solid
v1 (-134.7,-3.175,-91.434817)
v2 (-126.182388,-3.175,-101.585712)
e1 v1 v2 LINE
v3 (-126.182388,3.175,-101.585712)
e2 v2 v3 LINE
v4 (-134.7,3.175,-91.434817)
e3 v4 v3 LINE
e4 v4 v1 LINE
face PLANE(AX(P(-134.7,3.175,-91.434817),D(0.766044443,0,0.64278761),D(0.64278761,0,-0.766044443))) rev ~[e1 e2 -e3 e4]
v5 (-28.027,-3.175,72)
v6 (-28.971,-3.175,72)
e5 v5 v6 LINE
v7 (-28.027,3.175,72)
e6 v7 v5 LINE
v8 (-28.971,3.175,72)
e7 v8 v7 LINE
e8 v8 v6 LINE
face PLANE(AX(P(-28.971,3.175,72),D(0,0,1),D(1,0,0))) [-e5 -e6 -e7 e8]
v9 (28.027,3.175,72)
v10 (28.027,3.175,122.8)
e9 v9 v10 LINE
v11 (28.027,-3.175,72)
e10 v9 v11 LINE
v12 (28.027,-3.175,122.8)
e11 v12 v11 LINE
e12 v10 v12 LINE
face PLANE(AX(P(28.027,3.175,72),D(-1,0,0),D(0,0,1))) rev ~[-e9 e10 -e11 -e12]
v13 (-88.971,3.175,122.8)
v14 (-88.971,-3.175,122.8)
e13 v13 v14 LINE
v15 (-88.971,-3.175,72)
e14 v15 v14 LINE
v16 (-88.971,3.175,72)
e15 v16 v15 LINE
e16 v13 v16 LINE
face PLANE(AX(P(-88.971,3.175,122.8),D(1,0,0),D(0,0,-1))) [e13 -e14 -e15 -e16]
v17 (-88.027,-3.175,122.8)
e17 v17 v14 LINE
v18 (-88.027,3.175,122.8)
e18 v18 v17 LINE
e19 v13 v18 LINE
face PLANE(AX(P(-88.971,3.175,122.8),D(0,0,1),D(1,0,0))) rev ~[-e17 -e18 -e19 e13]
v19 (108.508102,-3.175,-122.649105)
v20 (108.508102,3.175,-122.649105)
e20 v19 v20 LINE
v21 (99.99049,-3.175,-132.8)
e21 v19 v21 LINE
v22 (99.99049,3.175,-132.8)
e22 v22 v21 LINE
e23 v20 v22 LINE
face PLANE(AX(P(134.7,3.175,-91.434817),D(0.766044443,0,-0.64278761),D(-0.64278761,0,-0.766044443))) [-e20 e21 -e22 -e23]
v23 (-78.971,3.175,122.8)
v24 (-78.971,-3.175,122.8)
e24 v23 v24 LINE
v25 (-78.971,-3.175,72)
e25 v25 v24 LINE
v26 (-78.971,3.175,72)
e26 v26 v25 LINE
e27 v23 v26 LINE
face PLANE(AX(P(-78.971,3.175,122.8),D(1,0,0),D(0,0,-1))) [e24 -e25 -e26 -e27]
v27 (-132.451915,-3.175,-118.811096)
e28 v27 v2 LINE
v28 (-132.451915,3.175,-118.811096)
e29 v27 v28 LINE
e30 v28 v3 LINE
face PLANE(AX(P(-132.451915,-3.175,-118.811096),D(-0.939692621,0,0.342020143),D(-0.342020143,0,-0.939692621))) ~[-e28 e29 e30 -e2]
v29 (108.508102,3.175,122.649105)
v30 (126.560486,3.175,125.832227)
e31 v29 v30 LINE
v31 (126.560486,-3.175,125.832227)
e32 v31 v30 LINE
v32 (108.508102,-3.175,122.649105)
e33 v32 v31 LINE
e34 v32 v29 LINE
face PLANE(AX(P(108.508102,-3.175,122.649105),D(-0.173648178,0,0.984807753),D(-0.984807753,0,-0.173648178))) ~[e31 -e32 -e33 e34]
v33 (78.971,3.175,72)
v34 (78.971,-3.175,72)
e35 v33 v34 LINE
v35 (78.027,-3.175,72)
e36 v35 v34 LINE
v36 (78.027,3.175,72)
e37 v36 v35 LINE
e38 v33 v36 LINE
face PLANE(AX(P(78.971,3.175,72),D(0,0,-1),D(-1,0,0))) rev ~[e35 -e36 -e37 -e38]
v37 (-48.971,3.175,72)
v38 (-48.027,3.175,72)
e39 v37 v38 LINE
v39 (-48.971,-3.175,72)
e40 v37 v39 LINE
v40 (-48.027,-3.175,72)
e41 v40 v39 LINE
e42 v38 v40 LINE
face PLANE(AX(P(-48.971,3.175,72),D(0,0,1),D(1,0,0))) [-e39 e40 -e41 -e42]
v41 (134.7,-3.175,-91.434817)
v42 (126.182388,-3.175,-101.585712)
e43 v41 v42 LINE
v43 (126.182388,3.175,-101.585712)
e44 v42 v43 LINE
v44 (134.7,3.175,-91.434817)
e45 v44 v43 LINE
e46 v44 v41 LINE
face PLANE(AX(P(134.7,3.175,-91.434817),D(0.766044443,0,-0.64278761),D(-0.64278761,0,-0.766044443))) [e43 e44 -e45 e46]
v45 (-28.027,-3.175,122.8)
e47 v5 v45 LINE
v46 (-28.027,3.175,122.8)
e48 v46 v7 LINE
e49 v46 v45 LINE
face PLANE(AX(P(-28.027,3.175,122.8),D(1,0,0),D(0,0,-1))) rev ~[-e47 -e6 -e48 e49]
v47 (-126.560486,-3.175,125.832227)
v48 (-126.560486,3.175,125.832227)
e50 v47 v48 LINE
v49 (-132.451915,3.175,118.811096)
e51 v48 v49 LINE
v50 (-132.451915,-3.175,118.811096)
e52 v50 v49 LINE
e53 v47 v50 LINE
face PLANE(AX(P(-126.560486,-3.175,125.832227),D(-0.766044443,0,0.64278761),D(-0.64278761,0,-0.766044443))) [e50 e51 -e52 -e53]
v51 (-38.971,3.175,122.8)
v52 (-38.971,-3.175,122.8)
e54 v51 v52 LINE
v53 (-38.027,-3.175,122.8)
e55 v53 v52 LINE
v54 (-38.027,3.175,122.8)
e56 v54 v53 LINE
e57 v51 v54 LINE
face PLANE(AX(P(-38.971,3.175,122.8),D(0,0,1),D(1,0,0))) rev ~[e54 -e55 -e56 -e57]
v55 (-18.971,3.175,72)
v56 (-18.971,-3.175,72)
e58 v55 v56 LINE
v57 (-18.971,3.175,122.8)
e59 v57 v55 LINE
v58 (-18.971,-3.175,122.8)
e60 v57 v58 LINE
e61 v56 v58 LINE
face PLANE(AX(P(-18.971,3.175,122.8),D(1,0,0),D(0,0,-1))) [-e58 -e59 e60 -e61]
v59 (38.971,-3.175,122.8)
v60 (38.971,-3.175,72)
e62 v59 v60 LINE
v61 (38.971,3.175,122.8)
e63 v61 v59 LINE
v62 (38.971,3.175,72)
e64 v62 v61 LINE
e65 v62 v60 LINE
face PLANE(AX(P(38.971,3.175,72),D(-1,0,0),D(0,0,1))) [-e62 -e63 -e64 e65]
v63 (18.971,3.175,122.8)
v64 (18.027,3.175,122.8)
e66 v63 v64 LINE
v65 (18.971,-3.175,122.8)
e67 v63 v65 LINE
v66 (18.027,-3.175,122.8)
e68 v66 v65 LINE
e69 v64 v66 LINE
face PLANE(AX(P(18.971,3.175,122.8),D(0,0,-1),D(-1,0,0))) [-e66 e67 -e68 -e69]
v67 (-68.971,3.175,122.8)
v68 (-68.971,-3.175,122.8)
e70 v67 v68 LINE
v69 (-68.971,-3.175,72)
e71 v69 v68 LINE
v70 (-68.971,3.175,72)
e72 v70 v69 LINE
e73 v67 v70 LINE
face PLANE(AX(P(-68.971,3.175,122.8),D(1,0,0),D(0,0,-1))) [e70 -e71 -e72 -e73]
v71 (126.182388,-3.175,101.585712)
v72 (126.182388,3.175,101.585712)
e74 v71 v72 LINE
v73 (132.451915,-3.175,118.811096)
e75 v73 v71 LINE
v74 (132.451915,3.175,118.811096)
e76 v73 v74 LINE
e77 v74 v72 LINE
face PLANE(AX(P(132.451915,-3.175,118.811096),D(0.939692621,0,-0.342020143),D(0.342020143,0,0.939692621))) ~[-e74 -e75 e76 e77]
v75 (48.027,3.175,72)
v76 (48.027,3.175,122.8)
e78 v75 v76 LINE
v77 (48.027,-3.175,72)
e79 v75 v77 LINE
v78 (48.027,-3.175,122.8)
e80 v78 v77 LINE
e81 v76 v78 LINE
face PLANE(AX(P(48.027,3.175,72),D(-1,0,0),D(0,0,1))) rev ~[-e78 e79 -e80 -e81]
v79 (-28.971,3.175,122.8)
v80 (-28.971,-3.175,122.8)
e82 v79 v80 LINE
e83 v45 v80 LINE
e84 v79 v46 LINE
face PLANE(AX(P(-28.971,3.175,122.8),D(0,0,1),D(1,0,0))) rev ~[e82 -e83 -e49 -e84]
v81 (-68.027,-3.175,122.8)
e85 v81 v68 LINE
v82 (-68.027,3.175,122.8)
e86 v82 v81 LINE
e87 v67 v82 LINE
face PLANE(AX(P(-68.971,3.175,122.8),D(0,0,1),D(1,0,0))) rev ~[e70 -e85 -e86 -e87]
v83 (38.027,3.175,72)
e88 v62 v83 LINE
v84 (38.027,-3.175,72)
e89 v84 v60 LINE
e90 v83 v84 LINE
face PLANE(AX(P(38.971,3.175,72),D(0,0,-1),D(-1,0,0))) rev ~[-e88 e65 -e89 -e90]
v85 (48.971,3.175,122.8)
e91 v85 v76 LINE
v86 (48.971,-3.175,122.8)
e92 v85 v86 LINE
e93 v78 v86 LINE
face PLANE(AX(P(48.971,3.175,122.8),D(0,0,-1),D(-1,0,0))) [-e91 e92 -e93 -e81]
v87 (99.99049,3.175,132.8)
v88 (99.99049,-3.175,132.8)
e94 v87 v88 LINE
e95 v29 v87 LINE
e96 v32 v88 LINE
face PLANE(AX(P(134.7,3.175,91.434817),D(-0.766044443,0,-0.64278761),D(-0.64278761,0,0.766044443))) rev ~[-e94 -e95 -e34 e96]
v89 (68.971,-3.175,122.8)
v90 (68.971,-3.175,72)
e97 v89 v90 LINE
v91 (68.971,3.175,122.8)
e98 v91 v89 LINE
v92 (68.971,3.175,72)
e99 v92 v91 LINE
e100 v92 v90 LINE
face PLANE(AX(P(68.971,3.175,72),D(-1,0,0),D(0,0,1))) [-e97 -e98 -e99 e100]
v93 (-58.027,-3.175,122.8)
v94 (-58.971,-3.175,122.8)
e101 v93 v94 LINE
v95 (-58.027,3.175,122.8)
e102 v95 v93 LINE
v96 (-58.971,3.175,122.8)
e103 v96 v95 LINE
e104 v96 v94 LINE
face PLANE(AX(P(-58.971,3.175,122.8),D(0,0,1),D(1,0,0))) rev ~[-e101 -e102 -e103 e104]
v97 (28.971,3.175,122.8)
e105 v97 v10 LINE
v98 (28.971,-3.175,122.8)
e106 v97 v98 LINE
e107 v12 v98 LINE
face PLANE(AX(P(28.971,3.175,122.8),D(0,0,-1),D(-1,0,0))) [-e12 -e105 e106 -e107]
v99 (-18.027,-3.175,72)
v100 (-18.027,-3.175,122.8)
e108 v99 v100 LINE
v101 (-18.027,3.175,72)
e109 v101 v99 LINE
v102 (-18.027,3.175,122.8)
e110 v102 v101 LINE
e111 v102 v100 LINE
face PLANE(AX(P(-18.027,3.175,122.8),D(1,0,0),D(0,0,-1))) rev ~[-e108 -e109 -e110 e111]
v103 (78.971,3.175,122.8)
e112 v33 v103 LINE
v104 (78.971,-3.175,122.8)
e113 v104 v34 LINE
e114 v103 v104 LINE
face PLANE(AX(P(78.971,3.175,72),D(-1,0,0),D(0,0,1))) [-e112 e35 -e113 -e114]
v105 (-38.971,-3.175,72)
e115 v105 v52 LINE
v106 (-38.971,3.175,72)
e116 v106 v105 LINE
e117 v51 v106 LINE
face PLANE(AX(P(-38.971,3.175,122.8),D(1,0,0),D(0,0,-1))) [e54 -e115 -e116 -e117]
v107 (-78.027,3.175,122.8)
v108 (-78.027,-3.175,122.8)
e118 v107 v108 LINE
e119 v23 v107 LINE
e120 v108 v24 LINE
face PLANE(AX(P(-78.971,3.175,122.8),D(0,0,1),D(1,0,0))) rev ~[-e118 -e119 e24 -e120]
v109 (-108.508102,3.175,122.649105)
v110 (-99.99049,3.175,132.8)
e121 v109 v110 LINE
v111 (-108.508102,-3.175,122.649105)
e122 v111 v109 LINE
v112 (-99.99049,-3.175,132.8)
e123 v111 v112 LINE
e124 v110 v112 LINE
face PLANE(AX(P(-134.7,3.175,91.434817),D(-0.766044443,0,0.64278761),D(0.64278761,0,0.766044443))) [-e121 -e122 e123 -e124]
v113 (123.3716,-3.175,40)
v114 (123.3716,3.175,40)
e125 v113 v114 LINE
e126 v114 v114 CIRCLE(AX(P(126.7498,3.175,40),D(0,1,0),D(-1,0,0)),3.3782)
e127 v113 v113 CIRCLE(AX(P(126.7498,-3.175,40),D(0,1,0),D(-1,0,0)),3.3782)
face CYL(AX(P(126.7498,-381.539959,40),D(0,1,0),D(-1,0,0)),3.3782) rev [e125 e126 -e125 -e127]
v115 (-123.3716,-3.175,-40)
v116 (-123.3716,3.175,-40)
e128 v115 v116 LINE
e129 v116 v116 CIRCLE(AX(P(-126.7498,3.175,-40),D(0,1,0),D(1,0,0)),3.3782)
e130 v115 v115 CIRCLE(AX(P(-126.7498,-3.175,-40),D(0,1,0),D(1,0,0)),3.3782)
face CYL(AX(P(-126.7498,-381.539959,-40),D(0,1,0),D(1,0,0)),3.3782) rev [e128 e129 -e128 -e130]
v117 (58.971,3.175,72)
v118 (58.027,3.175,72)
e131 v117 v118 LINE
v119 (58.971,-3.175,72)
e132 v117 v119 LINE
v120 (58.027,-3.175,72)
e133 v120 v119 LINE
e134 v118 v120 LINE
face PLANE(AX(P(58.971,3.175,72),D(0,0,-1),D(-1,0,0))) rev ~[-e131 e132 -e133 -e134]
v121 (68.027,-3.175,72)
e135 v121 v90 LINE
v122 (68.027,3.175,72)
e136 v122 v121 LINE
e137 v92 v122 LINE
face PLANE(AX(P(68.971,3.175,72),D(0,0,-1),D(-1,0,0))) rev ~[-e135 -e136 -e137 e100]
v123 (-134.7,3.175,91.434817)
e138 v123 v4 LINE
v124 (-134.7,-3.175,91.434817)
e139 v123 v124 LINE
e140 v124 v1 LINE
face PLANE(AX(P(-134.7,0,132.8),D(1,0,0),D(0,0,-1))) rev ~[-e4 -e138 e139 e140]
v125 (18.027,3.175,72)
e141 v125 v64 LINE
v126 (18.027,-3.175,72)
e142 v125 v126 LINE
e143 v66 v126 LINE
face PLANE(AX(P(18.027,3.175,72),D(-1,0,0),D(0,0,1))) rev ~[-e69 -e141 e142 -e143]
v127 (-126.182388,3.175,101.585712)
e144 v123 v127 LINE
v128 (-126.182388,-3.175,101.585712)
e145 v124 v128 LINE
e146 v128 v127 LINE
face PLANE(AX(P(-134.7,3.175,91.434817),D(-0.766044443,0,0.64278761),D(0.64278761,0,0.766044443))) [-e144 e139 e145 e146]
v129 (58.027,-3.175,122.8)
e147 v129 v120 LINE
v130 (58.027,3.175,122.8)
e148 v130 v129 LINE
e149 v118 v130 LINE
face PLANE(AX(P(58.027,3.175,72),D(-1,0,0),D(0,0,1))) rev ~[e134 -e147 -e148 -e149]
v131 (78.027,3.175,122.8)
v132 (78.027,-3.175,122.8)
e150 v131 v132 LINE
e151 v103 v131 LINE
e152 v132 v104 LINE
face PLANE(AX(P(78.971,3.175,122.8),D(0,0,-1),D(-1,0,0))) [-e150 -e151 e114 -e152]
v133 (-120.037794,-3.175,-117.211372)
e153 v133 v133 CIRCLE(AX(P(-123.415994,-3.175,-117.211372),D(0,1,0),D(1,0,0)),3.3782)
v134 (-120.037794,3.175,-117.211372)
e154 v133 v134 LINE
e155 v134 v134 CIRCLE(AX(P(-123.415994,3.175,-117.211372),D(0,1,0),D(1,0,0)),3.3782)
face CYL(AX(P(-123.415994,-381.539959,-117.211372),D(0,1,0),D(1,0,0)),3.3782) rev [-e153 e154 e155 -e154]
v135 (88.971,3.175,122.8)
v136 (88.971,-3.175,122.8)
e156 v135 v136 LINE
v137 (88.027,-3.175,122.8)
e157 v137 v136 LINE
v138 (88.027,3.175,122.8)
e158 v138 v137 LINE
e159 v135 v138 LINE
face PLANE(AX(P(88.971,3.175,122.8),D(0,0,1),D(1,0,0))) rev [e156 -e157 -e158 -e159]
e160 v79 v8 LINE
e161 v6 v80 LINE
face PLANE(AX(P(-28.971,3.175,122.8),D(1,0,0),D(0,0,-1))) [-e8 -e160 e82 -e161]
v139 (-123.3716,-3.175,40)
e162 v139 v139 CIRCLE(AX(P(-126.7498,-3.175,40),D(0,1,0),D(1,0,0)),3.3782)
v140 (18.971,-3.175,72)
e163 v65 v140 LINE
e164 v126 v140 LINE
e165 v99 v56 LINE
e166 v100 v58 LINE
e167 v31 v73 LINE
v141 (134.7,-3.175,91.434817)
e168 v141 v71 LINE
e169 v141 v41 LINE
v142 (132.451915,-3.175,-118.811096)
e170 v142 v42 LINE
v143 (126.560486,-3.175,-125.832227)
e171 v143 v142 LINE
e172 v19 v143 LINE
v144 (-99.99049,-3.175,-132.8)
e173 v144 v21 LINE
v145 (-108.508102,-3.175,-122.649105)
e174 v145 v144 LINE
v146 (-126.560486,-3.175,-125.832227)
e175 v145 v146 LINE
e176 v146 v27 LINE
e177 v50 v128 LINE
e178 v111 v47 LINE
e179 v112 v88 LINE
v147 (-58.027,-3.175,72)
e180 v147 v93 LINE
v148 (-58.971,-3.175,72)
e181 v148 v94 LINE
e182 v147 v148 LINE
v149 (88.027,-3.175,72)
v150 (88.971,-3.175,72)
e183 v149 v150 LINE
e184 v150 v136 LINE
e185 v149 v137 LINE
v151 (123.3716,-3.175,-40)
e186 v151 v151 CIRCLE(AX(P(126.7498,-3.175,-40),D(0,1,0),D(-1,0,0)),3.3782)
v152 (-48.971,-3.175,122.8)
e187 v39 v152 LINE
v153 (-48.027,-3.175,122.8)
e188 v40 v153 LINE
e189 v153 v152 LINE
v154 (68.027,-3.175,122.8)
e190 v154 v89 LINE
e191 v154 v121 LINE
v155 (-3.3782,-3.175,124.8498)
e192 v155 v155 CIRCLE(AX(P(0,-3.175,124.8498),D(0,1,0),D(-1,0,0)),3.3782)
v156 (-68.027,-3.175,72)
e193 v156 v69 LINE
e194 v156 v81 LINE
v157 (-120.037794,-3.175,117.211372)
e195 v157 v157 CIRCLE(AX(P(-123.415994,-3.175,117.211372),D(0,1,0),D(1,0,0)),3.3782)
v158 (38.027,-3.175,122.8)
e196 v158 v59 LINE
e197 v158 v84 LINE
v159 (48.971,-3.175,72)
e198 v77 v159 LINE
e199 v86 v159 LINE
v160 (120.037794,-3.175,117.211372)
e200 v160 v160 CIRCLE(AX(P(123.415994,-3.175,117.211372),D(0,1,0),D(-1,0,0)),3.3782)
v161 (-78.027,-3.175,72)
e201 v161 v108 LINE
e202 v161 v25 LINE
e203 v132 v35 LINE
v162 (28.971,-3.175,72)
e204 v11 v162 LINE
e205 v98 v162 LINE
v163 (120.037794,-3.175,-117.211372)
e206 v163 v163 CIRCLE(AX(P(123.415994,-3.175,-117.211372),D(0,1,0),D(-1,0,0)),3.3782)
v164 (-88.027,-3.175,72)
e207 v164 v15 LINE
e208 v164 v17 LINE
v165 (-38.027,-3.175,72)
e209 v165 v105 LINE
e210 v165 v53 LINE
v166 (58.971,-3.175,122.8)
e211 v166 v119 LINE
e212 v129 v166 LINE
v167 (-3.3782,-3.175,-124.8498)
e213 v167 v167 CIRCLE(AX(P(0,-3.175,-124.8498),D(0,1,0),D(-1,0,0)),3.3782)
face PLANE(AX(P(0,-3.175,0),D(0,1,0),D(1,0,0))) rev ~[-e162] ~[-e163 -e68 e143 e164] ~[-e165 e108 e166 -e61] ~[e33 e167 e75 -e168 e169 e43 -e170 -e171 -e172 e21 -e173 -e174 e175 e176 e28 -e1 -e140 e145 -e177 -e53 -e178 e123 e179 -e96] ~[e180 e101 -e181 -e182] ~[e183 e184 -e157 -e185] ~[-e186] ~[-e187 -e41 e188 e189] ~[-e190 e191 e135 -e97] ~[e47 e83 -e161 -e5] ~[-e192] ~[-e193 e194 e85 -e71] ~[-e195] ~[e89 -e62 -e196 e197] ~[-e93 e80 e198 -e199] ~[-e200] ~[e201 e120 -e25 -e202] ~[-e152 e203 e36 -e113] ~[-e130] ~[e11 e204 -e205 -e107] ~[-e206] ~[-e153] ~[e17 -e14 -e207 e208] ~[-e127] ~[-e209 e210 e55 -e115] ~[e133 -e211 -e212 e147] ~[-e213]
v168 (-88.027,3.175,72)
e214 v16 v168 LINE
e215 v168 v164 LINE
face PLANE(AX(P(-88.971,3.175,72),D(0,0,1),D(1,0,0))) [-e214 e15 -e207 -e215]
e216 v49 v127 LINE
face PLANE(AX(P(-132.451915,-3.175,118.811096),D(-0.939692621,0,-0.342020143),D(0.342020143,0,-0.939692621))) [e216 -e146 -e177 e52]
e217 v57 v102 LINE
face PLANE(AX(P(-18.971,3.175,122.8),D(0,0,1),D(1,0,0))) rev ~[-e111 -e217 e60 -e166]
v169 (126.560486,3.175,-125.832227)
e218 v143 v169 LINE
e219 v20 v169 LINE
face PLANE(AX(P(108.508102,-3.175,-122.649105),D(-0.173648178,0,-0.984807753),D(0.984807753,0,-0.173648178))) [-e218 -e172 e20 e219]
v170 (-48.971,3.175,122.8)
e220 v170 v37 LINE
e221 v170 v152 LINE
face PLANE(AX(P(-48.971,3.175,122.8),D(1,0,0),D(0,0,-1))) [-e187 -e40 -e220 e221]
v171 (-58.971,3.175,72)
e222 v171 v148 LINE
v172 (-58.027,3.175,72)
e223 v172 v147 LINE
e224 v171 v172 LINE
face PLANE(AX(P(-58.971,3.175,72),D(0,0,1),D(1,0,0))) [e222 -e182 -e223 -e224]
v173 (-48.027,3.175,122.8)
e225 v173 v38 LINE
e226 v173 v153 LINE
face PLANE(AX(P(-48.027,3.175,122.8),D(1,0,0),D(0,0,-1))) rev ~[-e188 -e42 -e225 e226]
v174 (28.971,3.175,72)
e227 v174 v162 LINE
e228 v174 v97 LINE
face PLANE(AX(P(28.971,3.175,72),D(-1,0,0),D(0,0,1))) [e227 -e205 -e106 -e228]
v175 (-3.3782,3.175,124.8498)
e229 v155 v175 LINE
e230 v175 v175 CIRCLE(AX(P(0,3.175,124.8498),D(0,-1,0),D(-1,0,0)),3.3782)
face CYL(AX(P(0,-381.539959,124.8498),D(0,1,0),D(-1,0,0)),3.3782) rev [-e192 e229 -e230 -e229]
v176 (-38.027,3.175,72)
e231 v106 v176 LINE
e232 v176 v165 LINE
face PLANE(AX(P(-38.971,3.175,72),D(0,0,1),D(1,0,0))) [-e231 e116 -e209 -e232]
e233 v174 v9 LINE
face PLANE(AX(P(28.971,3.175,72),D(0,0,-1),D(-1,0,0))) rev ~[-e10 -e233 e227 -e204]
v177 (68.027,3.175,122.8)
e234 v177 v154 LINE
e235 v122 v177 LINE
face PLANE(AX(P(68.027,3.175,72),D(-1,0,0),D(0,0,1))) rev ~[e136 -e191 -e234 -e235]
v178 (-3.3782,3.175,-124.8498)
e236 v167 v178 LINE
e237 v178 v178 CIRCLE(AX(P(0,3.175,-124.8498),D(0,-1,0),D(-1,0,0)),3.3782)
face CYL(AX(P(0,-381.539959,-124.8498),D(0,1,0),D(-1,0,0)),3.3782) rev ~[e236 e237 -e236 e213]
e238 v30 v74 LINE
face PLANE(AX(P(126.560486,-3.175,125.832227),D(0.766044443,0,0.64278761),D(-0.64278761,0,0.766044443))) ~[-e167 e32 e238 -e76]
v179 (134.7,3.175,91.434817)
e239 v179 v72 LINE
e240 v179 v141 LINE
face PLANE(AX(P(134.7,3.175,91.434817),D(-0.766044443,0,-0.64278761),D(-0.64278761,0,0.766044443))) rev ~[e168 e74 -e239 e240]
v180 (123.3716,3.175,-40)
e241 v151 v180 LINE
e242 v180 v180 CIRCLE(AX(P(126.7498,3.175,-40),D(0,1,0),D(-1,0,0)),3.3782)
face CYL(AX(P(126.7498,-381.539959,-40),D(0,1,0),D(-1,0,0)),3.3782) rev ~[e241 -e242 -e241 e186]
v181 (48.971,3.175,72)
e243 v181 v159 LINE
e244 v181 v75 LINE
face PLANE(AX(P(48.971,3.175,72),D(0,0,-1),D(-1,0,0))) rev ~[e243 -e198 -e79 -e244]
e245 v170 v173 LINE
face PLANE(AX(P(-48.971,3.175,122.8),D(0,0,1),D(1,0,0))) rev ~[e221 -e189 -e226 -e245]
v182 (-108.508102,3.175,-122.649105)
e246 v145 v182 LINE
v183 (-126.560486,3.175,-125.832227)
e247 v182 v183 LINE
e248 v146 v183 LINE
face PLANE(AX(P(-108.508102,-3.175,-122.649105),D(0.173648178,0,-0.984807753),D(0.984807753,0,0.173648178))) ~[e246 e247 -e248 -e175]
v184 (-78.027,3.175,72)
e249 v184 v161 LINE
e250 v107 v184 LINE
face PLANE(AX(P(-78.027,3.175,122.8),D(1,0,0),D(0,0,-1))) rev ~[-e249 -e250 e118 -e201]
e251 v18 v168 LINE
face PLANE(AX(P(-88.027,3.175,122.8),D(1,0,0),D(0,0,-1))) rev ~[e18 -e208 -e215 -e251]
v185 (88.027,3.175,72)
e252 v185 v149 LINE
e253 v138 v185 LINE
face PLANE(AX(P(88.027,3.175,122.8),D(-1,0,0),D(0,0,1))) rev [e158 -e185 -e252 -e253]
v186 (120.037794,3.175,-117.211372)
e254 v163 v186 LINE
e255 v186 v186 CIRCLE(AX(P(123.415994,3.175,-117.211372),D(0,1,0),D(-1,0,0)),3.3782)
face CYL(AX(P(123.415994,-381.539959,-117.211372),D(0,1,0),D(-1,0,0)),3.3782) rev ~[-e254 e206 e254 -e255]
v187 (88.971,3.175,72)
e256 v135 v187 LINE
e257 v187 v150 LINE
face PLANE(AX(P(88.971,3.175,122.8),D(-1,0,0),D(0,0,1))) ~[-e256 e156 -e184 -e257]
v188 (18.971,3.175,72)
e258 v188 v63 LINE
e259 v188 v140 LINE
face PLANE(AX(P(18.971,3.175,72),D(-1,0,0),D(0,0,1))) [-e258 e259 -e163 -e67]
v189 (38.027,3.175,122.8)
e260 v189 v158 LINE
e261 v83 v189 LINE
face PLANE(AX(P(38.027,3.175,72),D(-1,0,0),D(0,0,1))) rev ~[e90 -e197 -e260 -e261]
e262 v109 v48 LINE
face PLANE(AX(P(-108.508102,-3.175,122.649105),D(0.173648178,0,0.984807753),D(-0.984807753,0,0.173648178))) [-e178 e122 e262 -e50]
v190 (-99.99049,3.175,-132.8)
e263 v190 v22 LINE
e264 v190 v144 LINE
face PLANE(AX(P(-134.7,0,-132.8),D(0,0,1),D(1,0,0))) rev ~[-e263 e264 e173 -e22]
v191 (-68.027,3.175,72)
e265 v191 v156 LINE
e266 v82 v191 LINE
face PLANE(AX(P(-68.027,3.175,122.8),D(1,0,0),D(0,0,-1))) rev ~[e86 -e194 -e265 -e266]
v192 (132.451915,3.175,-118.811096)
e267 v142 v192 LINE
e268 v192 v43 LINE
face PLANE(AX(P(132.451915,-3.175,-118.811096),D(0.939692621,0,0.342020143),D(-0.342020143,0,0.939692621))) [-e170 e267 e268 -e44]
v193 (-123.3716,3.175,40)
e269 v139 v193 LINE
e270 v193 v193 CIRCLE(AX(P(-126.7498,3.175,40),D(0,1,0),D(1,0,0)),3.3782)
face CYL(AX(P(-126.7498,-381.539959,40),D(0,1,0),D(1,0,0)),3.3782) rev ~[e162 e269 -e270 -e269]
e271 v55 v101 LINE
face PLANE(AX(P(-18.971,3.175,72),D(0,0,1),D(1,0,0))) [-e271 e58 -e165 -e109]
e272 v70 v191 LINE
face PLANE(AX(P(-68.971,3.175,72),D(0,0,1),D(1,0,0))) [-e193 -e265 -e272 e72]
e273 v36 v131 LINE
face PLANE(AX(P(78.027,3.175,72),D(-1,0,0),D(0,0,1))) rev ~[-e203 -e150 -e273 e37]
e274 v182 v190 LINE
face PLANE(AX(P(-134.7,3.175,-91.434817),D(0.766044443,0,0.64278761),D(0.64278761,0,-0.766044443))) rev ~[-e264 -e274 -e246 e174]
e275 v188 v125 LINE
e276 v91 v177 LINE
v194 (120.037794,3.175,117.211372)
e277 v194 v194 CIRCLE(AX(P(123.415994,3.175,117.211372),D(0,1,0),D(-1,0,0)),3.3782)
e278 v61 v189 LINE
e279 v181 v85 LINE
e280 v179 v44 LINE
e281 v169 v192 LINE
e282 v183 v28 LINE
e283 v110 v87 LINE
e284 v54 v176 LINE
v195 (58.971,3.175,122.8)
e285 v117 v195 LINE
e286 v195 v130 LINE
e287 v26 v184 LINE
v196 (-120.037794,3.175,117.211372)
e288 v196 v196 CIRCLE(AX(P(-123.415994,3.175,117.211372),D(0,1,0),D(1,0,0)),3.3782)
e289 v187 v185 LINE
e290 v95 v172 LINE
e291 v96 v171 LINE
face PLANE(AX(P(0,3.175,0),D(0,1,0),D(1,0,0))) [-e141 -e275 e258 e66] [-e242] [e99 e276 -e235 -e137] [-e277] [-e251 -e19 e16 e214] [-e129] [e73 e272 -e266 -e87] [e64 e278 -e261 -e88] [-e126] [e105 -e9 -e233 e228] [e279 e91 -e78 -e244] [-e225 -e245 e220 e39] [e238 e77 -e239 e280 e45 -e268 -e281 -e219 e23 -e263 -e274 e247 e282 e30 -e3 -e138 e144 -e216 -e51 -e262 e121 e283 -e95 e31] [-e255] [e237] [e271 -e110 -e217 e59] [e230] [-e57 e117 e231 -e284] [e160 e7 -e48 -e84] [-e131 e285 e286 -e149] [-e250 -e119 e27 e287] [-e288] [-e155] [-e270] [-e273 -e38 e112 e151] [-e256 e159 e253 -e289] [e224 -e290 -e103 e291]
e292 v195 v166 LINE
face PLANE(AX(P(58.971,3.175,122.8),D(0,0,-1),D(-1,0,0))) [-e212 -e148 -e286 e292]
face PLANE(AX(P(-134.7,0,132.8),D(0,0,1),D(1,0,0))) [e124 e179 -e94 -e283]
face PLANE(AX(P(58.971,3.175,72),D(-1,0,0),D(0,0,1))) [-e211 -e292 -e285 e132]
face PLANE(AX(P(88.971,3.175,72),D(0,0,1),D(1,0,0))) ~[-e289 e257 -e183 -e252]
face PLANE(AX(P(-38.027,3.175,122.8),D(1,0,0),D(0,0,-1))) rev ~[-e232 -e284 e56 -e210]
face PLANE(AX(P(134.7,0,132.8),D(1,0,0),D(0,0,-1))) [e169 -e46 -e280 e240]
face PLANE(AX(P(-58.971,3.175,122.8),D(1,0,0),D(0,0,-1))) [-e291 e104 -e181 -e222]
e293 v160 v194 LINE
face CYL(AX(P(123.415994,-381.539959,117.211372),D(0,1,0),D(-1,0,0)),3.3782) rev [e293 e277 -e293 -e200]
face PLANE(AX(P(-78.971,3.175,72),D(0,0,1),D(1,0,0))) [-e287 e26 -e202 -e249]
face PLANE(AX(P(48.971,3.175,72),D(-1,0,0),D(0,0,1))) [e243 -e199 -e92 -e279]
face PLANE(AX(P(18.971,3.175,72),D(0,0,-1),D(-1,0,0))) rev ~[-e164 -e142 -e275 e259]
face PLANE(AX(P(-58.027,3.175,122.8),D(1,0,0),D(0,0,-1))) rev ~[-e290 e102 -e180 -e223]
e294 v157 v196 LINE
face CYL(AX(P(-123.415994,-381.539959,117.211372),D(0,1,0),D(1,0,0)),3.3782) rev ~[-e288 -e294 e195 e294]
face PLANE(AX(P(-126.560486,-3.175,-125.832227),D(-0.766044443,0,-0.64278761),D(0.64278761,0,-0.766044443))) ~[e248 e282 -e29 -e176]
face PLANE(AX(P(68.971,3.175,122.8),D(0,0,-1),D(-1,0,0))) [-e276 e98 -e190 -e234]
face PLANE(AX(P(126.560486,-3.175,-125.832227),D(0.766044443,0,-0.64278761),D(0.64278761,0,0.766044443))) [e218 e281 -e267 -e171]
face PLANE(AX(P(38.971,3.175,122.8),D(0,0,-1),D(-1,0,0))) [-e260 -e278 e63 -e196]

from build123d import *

# Parameters (mm, degrees)
SKETCH1_W               = 269.4
SKETCH1_H               = 265.6
BOSS_EXTRUDE1_DEPTH     = 3.175
CUT_EXTRUDE3_DEPTH      = 190.262390612
BOSS_EXTRUDE3_DEPTH     = 6.35
F_1_4_CLEARANCE_HOLE1_D = 6.7564
MIRROR2_COPY_1_DEPTH    = 6.35
MIRROR2_COPY_2_D        = 6.7564
CUT_EXTRUDE2_REACH      = 191.262
SKETCH15_W              = 0.944
SKETCH15_H              = 50.8
LPATTERN1_COUNT         = 8
LPATTERN1_PITCH         = 10
MIRROR3_COPY_1_REACH    = 191.262
MIRROR3_COPY_1_SKETCH_W = 0.944
MIRROR3_COPY_1_SKETCH_H = 50.8
MIRROR3_COPY_2_REACH    = 191.262
MIRROR3_COPY_2_SKETCH_W = 0.944
MIRROR3_COPY_2_SKETCH_H = 50.8
MIRROR3_COPY_3_REACH    = 191.262
MIRROR3_COPY_3_SKETCH_W = 0.944
MIRROR3_COPY_3_SKETCH_H = 50.8
MIRROR3_COPY_4_REACH    = 191.262
MIRROR3_COPY_4_SKETCH_W = 0.944
MIRROR3_COPY_4_SKETCH_H = 50.8
MIRROR3_COPY_5_REACH    = 191.262
MIRROR3_COPY_5_SKETCH_W = 0.944
MIRROR3_COPY_5_SKETCH_H = 50.8
MIRROR3_COPY_6_REACH    = 191.262
MIRROR3_COPY_6_SKETCH_W = 0.944
MIRROR3_COPY_6_SKETCH_H = 50.8
MIRROR3_COPY_7_REACH    = 191.262
MIRROR3_COPY_7_SKETCH_W = 0.944
MIRROR3_COPY_7_SKETCH_H = 50.8


with BuildPart() as part:
    # Sketch1 → Boss-Extrude1 (new, symmetric)
    with BuildSketch(Plane(origin=(0, 0, 0), x_dir=(1, 0, 0), z_dir=(0, 1, 0))):
        Rectangle(SKETCH1_W, SKETCH1_H)
    extrude(amount=BOSS_EXTRUDE1_DEPTH, both=True)

    # Sketch16 → Cut-Extrude3 (cut, through all)
    with BuildSketch(Plane(origin=(0, 3.175, 0), x_dir=(1, 0, 0), z_dir=(0, 1, 0))):
        Polygon((-134.7, 132.8), (-134.7, 91.434816919), (-99.990490133, 132.8), align=None)
        Polygon((99.990490133, 132.8), (134.7, 132.8), (134.7, 91.434816919), align=None)
        Polygon((134.7, -132.8), (134.7, -91.434816919), (99.990490133, -132.8), align=None)
        Polygon((-99.990490133, -132.8), (-134.7, -132.8), (-134.7, -91.434816919), align=None)
    extrude(amount=-CUT_EXTRUDE3_DEPTH, mode=Mode.SUBTRACT)

    # Sketch7 → Boss-Extrude3 (add)
    with BuildSketch(Plane(origin=(0, -3.175, 0), x_dir=(1, 0, 0), z_dir=(0, 1, 0))):
        Polygon((126.560486405, 125.832227239), (132.451914797, 118.811096288), (126.182387654, 101.585712032), (108.508102479, 122.649104887), align=None)
    boss_extrude3 = extrude(amount=BOSS_EXTRUDE3_DEPTH)

    # 1/4 Clearance Hole1 (through all)
    with Locations(Plane.XZ.offset(3.175)):
        with Locations((123.415994069, -117.211371709), (126.7498, -40), (0, -124.8498)):
            f_1_4_clearance_hole1 = Hole(F_1_4_CLEARANCE_HOLE1_D / 2)

    # Mirror1: Boss-Extrude3, 1/4 Clearance Hole1 across plane
    add(boss_extrude3.mirror(Plane.XY))
    add(f_1_4_clearance_hole1.mirror(Plane.XY), mode=Mode.SUBTRACT)

    # Mirror2: Boss-Extrude3, 1/4 Clearance Hole1 across plane
    add(boss_extrude3.mirror(Plane(origin=(0, 0, 0), x_dir=(0, 0, 1), z_dir=(1, 0, 0))))
    add(f_1_4_clearance_hole1.mirror(Plane(origin=(0, 0, 0), x_dir=(0, 0, 1), z_dir=(1, 0, 0))), mode=Mode.SUBTRACT)

    # Mirror2 copy 1 sketch → Mirror2 copy 1 (add)
    with BuildSketch(Plane(origin=(0, -3.175, 0), x_dir=(-1, 0, 0), z_dir=(0, 1, 0))):
        Polygon((126.560486405, 125.832227239), (132.451914797, 118.811096288), (126.182387654, 101.585712032), (108.508102479, 122.649104887), align=None)
    extrude(amount=MIRROR2_COPY_1_DEPTH)

    # Mirror2 copy 2 (through all)
    with Locations(Plane(origin=(0, -3.175, 0), x_dir=(-1, 0, 0), z_dir=(0, -1, 0))):
        with Locations((123.415994069, -117.211371709), (126.7498, -40), (0, -124.8498)):
            Hole(MIRROR2_COPY_2_D / 2)

    # Sketch15 → Cut-Extrude2 (cut, up to next)
    with BuildSketch(Plane(origin=(0, 3.175, 0), x_dir=(1, 0, 0), z_dir=(0, 1, 0)), mode=Mode.PRIVATE) as cut_extrude2_sk1:
        with Locations((-88.499, -97.4)):
            Rectangle(SKETCH15_W, SKETCH15_H)
    cut_extrude2_tool1 = extrude(cut_extrude2_sk1.sketch, amount=-CUT_EXTRUDE2_REACH, mode=Mode.PRIVATE) & part.part
    cut_extrude2 = cut_extrude2_tool1.solids().sort_by_distance((-88.499, 3.175, 97.4))[0]
    add(cut_extrude2, mode=Mode.SUBTRACT)

    # LPattern1: Cut-Extrude2 ×8
    with Locations(*[(i * LPATTERN1_PITCH, 0, 0) for i in range(1, LPATTERN1_COUNT)]):
        add(cut_extrude2, mode=Mode.SUBTRACT)

    # Mirror3: Cut-Extrude2 across plane
    add(cut_extrude2.mirror(Plane(origin=(0, 0, 0), x_dir=(0, 0, 1), z_dir=(1, 0, 0))), mode=Mode.SUBTRACT)

    # Mirror3 copy 1 sketch → Mirror3 copy 1 (cut, up to next)
    with BuildSketch(Plane(origin=(-10, 3.175, 0), x_dir=(-1, 0, 0), z_dir=(0, 1, 0)), mode=Mode.PRIVATE) as mirror3_copy_1_sk1:
        with Locations((-88.499, 97.4)):
            Rectangle(MIRROR3_COPY_1_SKETCH_W, MIRROR3_COPY_1_SKETCH_H)
    mirror3_copy_1_tool1 = extrude(mirror3_copy_1_sk1.sketch, amount=-MIRROR3_COPY_1_REACH, mode=Mode.PRIVATE) & part.part
    add(mirror3_copy_1_tool1.solids().sort_by_distance((78.499, 3.175, 97.4))[0], mode=Mode.SUBTRACT)

    # Mirror3 copy 2 sketch → Mirror3 copy 2 (cut, up to next)
    with BuildSketch(Plane(origin=(-20, 3.175, 0), x_dir=(-1, 0, 0), z_dir=(0, 1, 0)), mode=Mode.PRIVATE) as mirror3_copy_2_sk1:
        with Locations((-88.499, 97.4)):
            Rectangle(MIRROR3_COPY_2_SKETCH_W, MIRROR3_COPY_2_SKETCH_H)
    mirror3_copy_2_tool1 = extrude(mirror3_copy_2_sk1.sketch, amount=-MIRROR3_COPY_2_REACH, mode=Mode.PRIVATE) & part.part
    add(mirror3_copy_2_tool1.solids().sort_by_distance((68.499, 3.175, 97.4))[0], mode=Mode.SUBTRACT)

    # Mirror3 copy 3 sketch → Mirror3 copy 3 (cut, up to next)
    with BuildSketch(Plane(origin=(-30, 3.175, 0), x_dir=(-1, 0, 0), z_dir=(0, 1, 0)), mode=Mode.PRIVATE) as mirror3_copy_3_sk1:
        with Locations((-88.499, 97.4)):
            Rectangle(MIRROR3_COPY_3_SKETCH_W, MIRROR3_COPY_3_SKETCH_H)
    mirror3_copy_3_tool1 = extrude(mirror3_copy_3_sk1.sketch, amount=-MIRROR3_COPY_3_REACH, mode=Mode.PRIVATE) & part.part
    add(mirror3_copy_3_tool1.solids().sort_by_distance((58.499, 3.175, 97.4))[0], mode=Mode.SUBTRACT)

    # Mirror3 copy 4 sketch → Mirror3 copy 4 (cut, up to next)
    with BuildSketch(Plane(origin=(-40, 3.175, 0), x_dir=(-1, 0, 0), z_dir=(0, 1, 0)), mode=Mode.PRIVATE) as mirror3_copy_4_sk1:
        with Locations((-88.499, 97.4)):
            Rectangle(MIRROR3_COPY_4_SKETCH_W, MIRROR3_COPY_4_SKETCH_H)
    mirror3_copy_4_tool1 = extrude(mirror3_copy_4_sk1.sketch, amount=-MIRROR3_COPY_4_REACH, mode=Mode.PRIVATE) & part.part
    add(mirror3_copy_4_tool1.solids().sort_by_distance((48.499, 3.175, 97.4))[0], mode=Mode.SUBTRACT)

    # Mirror3 copy 5 sketch → Mirror3 copy 5 (cut, up to next)
    with BuildSketch(Plane(origin=(-50, 3.175, 0), x_dir=(-1, 0, 0), z_dir=(0, 1, 0)), mode=Mode.PRIVATE) as mirror3_copy_5_sk1:
        with Locations((-88.499, 97.4)):
            Rectangle(MIRROR3_COPY_5_SKETCH_W, MIRROR3_COPY_5_SKETCH_H)
    mirror3_copy_5_tool1 = extrude(mirror3_copy_5_sk1.sketch, amount=-MIRROR3_COPY_5_REACH, mode=Mode.PRIVATE) & part.part
    add(mirror3_copy_5_tool1.solids().sort_by_distance((38.499, 3.175, 97.4))[0], mode=Mode.SUBTRACT)

    # Mirror3 copy 6 sketch → Mirror3 copy 6 (cut, up to next)
    with BuildSketch(Plane(origin=(-60, 3.175, 0), x_dir=(-1, 0, 0), z_dir=(0, 1, 0)), mode=Mode.PRIVATE) as mirror3_copy_6_sk1:
        with Locations((-88.499, 97.4)):
            Rectangle(MIRROR3_COPY_6_SKETCH_W, MIRROR3_COPY_6_SKETCH_H)
    mirror3_copy_6_tool1 = extrude(mirror3_copy_6_sk1.sketch, amount=-MIRROR3_COPY_6_REACH, mode=Mode.PRIVATE) & part.part
    add(mirror3_copy_6_tool1.solids().sort_by_distance((28.499, 3.175, 97.4))[0], mode=Mode.SUBTRACT)

    # Mirror3 copy 7 sketch → Mirror3 copy 7 (cut, up to next)
    with BuildSketch(Plane(origin=(-70, 3.175, 0), x_dir=(-1, 0, 0), z_dir=(0, 1, 0)), mode=Mode.PRIVATE) as mirror3_copy_7_sk1:
        with Locations((-88.499, 97.4)):
            Rectangle(MIRROR3_COPY_7_SKETCH_W, MIRROR3_COPY_7_SKETCH_H)
    mirror3_copy_7_tool1 = extrude(mirror3_copy_7_sk1.sketch, amount=-MIRROR3_COPY_7_REACH, mode=Mode.PRIVATE) & part.part
    add(mirror3_copy_7_tool1.solids().sort_by_distance((18.499, 3.175, 97.4))[0], mode=Mode.SUBTRACT)


solid = part.part
